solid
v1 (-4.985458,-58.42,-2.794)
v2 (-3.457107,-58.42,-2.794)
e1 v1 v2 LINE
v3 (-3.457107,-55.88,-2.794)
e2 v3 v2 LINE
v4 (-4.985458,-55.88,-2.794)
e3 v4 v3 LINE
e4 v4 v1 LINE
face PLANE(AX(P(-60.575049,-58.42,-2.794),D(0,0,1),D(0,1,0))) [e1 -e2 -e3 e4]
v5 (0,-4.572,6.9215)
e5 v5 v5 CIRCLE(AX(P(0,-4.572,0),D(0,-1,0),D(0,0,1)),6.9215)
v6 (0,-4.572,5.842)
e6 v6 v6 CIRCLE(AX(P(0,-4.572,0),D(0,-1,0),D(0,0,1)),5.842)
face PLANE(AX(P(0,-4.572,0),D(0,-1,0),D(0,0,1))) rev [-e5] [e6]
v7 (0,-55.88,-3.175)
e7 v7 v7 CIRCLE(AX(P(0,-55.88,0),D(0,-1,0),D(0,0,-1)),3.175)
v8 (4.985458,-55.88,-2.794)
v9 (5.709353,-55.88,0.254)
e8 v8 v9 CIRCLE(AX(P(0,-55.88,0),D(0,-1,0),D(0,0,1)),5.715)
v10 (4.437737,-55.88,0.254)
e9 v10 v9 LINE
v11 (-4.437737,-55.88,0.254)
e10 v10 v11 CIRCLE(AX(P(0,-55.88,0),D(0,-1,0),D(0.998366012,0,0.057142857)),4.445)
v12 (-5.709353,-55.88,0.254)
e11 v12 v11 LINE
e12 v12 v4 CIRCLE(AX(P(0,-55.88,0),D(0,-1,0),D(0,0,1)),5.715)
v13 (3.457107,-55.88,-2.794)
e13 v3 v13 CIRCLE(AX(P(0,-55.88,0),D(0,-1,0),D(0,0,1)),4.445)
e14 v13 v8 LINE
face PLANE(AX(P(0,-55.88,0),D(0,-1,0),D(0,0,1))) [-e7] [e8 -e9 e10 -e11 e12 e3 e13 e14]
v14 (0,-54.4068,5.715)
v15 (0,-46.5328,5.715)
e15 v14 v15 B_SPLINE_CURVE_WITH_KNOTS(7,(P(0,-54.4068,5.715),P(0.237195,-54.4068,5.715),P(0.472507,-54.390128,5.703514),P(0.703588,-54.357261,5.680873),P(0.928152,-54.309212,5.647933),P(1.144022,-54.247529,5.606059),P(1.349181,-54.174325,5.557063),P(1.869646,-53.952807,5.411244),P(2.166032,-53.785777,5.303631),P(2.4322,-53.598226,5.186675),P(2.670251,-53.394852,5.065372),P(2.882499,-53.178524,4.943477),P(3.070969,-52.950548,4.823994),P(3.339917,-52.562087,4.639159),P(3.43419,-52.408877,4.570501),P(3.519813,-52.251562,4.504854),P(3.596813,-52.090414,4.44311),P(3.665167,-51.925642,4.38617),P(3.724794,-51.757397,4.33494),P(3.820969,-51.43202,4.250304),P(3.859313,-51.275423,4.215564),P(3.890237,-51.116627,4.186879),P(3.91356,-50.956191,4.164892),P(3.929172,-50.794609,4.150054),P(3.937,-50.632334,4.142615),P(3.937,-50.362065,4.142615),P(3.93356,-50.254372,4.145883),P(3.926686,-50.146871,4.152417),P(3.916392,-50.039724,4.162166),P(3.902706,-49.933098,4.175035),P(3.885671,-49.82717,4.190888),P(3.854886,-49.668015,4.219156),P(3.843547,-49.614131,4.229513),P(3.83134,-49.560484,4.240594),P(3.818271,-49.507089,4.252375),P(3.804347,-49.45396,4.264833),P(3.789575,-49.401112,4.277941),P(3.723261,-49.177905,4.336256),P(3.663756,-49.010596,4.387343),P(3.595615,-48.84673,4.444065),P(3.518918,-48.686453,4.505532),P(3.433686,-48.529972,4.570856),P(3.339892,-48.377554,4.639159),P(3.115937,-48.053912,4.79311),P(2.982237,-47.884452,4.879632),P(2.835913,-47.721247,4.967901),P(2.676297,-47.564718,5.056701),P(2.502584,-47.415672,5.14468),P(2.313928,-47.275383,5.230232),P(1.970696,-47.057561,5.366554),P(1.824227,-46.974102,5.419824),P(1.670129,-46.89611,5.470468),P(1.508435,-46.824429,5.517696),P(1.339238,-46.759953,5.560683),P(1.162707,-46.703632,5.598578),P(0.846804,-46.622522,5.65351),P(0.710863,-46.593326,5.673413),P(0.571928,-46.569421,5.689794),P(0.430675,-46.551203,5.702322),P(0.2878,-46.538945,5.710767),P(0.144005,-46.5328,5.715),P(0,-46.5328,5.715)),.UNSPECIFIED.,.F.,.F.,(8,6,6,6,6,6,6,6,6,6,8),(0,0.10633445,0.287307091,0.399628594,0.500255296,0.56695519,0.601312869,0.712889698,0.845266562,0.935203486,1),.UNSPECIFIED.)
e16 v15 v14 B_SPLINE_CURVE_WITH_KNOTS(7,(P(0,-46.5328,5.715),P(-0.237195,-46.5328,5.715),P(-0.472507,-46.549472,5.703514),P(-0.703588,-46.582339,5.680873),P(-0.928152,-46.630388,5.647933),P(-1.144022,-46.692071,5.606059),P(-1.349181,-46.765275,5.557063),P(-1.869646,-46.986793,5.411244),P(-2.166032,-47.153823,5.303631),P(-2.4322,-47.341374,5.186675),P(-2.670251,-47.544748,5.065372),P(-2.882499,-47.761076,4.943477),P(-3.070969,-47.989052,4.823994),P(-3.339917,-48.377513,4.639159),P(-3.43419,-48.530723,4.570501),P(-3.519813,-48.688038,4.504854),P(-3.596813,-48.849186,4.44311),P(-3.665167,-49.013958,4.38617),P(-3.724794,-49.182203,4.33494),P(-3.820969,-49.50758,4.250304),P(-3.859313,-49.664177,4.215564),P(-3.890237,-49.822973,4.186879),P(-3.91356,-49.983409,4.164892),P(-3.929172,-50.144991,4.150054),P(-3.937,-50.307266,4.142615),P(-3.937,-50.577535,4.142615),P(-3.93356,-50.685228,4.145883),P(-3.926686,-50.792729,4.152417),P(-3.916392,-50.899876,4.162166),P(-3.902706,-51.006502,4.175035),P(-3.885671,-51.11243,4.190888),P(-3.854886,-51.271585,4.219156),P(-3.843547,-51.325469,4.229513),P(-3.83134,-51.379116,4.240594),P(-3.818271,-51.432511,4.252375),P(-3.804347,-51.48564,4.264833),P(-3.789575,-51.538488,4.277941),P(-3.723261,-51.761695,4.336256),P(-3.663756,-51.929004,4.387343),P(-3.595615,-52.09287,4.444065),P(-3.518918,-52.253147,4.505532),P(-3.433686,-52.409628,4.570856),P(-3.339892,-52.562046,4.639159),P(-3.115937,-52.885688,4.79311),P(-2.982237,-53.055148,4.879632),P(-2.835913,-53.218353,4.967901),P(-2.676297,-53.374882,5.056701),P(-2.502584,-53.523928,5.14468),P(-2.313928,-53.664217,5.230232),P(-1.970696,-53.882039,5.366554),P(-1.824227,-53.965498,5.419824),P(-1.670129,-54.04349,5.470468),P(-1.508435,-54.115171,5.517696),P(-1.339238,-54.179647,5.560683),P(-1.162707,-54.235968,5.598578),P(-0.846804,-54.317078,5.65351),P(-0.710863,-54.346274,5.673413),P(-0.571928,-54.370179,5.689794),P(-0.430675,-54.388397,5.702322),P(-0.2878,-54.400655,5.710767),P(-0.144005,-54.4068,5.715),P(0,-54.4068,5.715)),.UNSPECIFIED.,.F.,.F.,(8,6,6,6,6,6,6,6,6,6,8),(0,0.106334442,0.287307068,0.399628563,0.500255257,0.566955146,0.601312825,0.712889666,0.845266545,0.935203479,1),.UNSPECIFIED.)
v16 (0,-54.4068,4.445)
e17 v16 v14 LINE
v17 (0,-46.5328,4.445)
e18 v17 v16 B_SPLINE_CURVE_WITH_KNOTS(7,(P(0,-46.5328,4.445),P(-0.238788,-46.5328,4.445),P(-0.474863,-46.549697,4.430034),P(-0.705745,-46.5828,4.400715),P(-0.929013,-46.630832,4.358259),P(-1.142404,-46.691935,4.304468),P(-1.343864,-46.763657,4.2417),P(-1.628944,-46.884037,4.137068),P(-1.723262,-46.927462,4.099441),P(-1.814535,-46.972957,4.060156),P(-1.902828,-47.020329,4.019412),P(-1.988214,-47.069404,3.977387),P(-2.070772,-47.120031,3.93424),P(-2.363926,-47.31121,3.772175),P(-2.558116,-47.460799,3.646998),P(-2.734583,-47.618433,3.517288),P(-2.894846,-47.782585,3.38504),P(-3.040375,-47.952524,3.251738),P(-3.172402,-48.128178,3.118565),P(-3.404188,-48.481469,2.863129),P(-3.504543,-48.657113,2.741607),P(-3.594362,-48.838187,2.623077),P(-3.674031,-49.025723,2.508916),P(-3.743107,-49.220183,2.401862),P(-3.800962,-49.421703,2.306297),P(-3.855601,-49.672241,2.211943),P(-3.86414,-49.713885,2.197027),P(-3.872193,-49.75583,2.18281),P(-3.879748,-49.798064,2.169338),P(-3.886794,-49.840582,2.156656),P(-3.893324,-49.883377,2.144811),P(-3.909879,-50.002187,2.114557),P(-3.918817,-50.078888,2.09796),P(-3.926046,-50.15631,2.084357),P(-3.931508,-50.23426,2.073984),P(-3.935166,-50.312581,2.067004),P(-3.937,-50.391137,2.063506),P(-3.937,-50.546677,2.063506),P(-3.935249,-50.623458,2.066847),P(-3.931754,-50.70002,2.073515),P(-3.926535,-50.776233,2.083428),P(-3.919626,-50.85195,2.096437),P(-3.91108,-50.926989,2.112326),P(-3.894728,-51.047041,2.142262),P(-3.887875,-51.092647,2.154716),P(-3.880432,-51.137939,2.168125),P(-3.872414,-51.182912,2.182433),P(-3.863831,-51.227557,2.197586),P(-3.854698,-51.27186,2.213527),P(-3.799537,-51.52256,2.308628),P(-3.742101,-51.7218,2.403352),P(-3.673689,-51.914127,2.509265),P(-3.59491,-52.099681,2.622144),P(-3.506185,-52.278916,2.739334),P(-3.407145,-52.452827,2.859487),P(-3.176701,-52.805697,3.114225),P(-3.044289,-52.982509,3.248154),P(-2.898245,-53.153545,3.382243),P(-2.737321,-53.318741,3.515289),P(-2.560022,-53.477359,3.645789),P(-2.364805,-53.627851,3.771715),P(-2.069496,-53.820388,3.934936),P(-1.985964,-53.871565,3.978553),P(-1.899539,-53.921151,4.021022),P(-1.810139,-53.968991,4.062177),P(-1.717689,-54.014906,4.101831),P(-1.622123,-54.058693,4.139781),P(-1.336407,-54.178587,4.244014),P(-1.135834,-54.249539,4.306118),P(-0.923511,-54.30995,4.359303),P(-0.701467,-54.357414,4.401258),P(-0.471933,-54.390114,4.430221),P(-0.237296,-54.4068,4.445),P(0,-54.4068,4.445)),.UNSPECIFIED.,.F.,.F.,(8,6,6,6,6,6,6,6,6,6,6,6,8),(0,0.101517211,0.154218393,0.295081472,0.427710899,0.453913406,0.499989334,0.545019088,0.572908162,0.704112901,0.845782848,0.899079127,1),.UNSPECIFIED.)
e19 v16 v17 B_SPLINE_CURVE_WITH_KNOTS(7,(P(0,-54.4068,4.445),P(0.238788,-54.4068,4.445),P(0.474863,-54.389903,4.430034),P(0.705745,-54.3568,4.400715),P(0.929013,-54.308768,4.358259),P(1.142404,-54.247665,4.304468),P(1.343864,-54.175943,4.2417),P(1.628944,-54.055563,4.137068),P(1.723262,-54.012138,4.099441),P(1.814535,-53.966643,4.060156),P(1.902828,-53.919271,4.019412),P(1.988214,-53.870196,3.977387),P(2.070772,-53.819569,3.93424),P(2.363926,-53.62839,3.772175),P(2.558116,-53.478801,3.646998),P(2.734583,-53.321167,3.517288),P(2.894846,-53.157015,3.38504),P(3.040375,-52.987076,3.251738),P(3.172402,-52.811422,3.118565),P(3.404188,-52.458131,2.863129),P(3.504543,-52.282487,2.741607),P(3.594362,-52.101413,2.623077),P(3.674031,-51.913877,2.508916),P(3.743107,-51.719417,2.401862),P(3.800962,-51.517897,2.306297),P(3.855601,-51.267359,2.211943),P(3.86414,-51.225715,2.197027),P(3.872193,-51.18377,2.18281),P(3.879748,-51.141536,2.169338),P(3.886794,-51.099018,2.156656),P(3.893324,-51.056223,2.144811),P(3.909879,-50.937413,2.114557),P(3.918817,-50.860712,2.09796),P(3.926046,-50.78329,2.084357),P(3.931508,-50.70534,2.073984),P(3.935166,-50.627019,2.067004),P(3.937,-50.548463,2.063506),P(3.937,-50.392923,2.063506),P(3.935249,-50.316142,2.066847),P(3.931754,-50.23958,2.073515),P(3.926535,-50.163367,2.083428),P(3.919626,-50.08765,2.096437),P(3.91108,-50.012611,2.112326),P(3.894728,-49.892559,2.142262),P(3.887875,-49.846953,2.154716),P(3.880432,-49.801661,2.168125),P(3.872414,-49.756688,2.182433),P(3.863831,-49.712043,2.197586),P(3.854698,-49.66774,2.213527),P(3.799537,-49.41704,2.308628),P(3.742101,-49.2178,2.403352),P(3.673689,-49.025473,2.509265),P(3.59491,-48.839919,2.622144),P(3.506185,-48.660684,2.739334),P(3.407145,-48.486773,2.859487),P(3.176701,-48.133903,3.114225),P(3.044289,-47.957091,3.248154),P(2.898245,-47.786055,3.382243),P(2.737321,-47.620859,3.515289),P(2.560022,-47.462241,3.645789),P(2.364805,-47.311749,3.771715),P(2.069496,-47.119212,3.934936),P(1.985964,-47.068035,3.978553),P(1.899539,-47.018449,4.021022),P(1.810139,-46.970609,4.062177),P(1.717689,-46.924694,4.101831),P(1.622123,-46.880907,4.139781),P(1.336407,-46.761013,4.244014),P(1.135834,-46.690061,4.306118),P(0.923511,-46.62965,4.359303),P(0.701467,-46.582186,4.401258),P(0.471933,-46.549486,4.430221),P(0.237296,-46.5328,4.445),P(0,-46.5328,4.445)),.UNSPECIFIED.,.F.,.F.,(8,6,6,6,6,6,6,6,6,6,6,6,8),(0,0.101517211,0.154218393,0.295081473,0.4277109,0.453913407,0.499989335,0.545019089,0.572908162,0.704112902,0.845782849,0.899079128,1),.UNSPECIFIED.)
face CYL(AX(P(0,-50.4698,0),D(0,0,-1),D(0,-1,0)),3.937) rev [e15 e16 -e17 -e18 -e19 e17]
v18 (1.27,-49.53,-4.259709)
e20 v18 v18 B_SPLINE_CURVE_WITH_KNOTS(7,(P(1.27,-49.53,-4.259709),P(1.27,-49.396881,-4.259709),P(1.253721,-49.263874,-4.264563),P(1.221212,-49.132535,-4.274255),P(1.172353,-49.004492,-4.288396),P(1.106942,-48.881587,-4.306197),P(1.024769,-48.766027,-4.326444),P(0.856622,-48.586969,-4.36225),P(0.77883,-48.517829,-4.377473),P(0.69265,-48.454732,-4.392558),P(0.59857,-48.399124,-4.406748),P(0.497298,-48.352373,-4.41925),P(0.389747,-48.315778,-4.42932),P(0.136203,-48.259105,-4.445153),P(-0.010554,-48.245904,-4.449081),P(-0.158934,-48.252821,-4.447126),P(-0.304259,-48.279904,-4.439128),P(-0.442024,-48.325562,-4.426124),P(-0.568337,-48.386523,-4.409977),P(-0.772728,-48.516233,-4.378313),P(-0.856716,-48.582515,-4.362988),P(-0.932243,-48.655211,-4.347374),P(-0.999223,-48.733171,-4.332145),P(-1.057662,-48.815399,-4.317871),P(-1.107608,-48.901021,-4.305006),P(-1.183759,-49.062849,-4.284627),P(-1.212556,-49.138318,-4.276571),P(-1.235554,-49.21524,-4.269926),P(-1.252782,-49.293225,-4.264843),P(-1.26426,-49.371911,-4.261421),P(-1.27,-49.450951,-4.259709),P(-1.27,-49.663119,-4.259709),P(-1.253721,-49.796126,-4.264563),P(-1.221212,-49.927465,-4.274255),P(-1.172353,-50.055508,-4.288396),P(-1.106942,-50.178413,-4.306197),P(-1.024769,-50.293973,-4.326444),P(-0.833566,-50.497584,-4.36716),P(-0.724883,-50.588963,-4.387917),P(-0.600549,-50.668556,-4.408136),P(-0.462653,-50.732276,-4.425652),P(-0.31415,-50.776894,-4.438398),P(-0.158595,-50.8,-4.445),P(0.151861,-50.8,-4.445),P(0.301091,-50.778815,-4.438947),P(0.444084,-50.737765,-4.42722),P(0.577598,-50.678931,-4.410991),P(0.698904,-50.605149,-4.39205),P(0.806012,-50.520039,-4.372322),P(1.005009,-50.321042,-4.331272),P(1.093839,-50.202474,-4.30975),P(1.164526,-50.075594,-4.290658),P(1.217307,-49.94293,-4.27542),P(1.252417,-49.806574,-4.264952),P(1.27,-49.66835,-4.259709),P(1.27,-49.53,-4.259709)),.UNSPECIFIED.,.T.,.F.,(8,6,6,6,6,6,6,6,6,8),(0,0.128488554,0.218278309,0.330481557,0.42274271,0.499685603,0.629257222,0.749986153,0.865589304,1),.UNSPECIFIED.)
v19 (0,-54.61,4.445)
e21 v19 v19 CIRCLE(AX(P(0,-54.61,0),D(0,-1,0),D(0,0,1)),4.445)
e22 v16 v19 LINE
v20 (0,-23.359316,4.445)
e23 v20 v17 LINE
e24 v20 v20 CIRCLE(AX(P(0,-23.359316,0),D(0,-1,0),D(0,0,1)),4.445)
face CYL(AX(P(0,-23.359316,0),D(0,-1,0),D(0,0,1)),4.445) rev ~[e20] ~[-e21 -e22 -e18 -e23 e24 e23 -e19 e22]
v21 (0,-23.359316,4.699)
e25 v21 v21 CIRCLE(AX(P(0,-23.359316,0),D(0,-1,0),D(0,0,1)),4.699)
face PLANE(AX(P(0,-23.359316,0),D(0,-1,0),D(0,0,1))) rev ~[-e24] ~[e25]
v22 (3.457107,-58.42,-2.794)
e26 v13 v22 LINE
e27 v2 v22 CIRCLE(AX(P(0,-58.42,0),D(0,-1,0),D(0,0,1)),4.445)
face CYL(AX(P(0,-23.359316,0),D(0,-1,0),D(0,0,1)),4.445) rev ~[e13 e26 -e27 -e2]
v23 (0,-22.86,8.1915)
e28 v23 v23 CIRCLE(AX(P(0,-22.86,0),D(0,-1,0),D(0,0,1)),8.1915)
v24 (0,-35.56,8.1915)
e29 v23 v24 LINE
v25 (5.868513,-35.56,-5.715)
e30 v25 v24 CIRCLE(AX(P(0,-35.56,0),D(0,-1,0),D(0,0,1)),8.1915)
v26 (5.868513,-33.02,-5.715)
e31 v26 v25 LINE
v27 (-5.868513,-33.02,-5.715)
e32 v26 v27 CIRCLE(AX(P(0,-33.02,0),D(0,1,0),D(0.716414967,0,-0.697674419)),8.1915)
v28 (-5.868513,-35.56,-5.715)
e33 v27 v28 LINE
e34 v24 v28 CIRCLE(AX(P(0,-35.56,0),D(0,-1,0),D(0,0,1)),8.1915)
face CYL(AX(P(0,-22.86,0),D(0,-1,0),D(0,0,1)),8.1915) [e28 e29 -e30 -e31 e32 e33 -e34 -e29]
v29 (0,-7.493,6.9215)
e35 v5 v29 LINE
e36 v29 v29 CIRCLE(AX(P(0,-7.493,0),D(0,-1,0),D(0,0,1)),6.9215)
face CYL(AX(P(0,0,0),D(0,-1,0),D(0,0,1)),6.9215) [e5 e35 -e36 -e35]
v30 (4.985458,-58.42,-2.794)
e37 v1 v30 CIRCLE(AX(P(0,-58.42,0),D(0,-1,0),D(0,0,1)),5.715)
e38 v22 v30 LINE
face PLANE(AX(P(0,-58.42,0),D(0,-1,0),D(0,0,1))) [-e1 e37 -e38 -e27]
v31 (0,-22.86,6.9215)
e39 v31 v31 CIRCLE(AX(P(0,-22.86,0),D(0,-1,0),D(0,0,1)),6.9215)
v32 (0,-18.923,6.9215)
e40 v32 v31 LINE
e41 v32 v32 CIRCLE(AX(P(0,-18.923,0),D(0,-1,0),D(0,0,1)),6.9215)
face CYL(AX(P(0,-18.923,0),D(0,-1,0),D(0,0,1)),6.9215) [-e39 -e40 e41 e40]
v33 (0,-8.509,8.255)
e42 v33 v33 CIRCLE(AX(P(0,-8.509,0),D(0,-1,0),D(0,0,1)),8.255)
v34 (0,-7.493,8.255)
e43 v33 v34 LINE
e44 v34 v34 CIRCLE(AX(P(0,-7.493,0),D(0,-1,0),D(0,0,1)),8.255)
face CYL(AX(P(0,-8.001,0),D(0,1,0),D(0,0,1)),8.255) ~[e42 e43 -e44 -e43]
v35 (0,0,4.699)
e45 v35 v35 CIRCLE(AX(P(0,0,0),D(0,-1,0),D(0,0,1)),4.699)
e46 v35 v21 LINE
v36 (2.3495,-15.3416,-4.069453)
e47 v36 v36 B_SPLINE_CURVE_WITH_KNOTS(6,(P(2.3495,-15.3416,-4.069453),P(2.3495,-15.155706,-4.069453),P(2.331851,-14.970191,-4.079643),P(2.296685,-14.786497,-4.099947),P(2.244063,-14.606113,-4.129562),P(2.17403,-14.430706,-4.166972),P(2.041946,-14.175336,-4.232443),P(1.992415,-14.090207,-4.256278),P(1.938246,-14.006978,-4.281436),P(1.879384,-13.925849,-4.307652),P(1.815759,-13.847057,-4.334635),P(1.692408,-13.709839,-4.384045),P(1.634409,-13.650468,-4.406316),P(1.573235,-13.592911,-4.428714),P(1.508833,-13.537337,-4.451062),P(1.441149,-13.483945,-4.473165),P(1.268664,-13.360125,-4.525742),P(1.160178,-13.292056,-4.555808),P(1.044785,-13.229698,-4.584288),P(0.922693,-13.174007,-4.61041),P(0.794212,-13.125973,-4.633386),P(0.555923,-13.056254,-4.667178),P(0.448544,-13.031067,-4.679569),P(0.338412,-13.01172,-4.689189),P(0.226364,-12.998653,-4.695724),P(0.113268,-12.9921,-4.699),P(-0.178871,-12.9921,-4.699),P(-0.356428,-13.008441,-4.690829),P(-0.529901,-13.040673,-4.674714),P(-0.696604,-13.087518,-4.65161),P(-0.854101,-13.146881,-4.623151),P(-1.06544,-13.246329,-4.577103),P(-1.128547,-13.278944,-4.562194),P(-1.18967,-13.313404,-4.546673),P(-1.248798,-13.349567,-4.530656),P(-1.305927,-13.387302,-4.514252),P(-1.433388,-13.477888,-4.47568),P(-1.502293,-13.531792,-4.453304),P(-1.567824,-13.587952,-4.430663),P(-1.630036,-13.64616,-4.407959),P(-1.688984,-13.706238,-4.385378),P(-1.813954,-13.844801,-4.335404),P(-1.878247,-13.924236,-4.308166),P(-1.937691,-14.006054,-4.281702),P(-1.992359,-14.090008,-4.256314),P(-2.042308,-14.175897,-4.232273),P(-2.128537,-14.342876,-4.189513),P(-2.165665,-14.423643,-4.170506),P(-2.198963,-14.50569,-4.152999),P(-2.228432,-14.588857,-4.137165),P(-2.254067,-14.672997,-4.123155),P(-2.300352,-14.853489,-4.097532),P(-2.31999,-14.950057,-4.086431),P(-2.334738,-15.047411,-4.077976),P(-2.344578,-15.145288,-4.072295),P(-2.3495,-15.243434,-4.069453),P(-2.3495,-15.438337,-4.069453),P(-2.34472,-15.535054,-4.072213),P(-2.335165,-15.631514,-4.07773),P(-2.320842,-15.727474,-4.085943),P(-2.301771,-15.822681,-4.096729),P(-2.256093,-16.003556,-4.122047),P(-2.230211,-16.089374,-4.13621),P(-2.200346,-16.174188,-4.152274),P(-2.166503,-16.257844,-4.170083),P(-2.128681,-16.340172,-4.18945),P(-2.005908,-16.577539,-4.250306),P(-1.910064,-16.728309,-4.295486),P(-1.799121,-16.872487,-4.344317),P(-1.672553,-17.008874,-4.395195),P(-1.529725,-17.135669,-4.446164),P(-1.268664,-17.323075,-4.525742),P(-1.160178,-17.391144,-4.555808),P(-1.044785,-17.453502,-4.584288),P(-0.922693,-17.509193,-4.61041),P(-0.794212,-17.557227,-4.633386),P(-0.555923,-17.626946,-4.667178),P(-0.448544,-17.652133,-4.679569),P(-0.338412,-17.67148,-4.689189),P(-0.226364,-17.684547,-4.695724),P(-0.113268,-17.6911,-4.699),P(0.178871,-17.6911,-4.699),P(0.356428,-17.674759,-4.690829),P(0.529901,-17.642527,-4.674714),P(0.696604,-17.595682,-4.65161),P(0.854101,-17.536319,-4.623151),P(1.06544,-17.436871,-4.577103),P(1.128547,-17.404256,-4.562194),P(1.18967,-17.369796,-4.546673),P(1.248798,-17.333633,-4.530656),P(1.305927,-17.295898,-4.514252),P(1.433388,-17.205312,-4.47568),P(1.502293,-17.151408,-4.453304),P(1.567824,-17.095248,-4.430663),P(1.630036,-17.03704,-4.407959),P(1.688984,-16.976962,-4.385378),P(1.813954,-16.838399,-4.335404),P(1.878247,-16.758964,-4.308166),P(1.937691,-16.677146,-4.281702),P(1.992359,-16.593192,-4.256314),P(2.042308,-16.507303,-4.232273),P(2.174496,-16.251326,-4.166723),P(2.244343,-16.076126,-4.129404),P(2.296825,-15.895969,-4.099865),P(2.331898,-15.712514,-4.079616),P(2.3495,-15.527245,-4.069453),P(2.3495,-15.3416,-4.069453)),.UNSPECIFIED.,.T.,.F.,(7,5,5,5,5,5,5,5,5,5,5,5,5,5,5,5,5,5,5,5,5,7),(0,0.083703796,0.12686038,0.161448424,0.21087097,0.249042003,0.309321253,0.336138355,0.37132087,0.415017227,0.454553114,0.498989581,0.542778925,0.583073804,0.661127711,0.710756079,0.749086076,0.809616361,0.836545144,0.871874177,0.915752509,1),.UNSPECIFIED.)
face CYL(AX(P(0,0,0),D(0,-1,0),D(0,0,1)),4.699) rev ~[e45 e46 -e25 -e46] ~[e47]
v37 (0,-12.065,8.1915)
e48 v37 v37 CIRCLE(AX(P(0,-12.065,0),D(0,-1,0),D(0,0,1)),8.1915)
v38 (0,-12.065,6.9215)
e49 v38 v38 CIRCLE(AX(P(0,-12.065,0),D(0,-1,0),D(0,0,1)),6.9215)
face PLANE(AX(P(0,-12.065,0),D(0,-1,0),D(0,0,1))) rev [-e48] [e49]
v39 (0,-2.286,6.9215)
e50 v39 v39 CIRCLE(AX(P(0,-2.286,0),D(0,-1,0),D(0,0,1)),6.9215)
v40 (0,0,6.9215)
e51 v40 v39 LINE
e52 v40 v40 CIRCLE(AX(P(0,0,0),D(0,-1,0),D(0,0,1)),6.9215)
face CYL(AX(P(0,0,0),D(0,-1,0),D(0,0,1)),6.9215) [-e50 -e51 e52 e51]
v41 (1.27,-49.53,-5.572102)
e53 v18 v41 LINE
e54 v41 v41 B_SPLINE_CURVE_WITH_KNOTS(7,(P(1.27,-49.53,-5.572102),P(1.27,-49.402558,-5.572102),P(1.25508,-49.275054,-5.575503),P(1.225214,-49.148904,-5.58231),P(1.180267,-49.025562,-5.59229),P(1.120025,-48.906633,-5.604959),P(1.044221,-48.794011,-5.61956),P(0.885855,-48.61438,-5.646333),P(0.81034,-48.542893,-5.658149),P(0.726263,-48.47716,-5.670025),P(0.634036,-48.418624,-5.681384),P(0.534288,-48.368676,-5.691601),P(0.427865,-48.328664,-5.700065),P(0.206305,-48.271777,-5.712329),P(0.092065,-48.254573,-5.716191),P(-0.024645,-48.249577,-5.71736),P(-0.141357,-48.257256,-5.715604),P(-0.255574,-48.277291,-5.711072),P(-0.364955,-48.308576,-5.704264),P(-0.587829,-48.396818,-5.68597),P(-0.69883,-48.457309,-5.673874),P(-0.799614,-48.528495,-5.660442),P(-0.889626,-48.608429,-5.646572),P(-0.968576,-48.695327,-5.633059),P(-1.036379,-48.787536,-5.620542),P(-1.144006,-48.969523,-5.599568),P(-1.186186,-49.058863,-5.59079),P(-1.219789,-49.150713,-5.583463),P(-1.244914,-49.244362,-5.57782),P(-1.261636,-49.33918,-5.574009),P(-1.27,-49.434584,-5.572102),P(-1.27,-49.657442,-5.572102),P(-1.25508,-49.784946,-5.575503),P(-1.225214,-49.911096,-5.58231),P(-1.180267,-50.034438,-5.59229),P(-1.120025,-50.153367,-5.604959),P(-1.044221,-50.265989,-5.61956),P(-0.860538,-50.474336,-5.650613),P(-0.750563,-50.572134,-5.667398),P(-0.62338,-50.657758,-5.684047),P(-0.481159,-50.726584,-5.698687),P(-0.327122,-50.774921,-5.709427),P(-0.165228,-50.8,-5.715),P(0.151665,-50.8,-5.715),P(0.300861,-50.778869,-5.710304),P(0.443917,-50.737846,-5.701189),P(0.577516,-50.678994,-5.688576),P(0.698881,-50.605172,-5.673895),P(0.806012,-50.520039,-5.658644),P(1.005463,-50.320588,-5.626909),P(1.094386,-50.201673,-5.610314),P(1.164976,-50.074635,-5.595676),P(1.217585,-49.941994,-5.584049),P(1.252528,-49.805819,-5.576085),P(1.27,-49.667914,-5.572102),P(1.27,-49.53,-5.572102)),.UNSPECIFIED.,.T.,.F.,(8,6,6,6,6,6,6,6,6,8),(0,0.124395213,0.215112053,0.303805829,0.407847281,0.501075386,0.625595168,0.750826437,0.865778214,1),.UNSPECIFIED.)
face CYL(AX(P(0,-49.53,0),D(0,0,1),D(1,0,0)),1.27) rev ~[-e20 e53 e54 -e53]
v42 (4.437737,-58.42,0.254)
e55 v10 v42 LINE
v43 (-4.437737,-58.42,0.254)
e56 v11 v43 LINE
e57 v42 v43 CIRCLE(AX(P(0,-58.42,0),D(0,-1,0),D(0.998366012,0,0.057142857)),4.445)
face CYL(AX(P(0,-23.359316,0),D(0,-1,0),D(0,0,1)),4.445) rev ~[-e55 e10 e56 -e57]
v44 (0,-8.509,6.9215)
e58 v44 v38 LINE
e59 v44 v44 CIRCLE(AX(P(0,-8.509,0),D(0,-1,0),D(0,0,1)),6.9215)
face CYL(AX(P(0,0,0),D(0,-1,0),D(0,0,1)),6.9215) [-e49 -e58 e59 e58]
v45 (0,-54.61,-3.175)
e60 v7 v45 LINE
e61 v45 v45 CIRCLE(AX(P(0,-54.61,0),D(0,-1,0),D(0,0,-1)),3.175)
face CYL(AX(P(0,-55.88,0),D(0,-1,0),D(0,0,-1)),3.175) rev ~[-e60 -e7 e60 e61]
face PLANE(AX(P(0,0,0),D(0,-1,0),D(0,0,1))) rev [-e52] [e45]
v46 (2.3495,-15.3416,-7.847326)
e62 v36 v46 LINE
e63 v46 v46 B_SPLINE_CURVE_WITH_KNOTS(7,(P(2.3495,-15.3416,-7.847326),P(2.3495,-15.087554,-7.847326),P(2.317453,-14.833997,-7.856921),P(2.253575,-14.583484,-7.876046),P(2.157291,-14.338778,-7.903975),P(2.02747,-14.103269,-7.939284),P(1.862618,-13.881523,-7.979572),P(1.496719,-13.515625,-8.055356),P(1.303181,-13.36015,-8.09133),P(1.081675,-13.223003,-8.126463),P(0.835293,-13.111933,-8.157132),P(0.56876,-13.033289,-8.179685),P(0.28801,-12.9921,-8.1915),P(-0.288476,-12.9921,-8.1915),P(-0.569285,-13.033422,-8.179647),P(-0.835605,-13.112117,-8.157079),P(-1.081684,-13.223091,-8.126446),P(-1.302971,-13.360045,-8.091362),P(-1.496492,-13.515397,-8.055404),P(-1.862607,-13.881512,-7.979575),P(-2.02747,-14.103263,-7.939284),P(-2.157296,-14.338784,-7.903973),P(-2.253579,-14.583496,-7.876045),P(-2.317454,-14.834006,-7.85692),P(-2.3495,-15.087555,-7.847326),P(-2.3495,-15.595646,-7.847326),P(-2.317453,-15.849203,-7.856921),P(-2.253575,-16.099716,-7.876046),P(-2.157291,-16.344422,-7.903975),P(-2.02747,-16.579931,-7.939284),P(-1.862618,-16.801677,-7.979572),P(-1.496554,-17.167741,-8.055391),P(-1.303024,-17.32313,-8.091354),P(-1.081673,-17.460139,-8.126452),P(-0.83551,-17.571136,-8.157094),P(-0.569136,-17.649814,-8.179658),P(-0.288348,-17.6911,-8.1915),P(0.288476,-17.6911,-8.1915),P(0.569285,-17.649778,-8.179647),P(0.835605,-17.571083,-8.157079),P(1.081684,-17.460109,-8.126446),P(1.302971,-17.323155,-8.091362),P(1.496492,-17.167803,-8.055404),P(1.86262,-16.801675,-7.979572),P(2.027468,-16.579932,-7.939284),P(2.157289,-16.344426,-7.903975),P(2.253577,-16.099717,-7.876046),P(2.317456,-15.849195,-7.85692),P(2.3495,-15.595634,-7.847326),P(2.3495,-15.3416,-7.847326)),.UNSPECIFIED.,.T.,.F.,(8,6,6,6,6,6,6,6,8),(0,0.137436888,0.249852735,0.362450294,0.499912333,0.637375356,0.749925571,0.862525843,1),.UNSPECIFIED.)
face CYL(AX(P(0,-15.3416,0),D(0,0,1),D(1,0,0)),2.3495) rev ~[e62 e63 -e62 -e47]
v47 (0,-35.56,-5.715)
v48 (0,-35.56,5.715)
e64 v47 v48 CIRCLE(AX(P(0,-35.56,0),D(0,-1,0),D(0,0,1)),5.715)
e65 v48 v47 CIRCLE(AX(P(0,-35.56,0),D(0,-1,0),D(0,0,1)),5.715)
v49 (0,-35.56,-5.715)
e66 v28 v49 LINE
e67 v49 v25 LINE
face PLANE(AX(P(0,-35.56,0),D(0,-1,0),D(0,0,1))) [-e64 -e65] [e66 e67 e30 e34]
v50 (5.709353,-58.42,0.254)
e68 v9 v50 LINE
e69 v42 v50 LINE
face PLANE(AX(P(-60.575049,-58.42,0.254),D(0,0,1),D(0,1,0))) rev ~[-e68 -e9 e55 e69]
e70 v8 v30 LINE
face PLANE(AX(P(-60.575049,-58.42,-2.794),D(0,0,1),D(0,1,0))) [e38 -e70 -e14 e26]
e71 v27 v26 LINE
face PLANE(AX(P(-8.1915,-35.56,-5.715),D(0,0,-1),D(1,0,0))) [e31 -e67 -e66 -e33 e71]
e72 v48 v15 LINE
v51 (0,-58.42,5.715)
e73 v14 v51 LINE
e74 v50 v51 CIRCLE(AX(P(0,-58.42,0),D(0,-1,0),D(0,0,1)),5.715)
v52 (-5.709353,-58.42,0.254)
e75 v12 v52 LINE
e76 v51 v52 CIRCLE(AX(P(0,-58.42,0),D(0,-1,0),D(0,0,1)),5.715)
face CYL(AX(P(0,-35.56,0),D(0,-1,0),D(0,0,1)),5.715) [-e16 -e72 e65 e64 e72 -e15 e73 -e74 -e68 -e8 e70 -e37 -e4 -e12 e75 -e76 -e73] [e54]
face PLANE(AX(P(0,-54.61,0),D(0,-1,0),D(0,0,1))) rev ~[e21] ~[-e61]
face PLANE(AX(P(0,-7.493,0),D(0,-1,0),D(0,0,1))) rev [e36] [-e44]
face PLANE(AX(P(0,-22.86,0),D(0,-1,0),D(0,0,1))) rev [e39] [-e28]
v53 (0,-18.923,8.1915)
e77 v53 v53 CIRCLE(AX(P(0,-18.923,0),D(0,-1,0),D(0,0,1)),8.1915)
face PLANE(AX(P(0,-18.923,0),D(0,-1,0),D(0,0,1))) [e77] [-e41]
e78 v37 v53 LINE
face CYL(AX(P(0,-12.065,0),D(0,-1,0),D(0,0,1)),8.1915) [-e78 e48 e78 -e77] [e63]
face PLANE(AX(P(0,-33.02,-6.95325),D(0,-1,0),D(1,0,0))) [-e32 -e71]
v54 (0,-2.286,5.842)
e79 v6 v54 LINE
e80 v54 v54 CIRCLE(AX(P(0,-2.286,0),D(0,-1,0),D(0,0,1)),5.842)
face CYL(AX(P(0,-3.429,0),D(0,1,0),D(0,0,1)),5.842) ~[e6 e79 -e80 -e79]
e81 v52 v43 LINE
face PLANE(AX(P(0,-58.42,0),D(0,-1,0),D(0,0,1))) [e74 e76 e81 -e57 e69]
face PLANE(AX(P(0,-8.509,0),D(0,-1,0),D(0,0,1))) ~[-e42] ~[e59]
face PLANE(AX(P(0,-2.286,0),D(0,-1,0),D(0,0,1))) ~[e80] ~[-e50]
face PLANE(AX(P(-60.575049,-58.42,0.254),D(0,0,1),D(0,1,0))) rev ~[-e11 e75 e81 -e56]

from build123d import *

# Parameters (mm, degrees)
SKETCH3_W                        = 1.0795
SKETCH3_H                        = 2.286
SKETCH4_W                        = 1.3335
SKETCH4_H                        = 1.016
SKETCH6_R                        = 3.937
AIR_OUT_2_MOUTHPIECE_DEPTH       = 60.575048888
SKETCH7_R                        = 2.3495
AIR_OUT_2_BC_DEPTH               = 60.575048986
SKETCH8_R                        = 1.27
VENT_DEPTH                       = 60.575048986
SLOT_FOR_DEMAND_LEVER_DEPTH      = 60.575048986
SLOT_FOR_DEMAND_LEVER_DEPTH_BACK = 60.575048986
SKETCH9_W                        = 3.048
SKETCH9_H                        = 2.54
SKETCH10_W                       = 16.383
SKETCH10_H                       = 2.4765
CLOCKING_CUT_DEPTH               = 2.54
SKETCH11_R                       = 4.445
SKETCH11_R_2                     = 3.175
SPRING_REST_DEPTH                = 1.27


with BuildPart() as part:
    # Sketch2 → Main Shaft (revolve)
    with BuildSketch(Plane.XY, mode=Mode.PRIVATE) as main_shaft_sk:
        Polygon((0, 0), (6.9215, 0), (6.9215, -12.065), (8.1915, -12.065), (8.1915, -18.923), (6.9215, -18.923), (6.9215, -22.86), (8.1915, -22.86), (8.1915, -35.56), (5.715, -35.56), (5.715, -58.42), (0, -58.42), align=None)
    revolve(main_shaft_sk.sketch.rotate(Axis((0, 0, 0), (0, -1, 0)), 90), axis=Axis((0, 0, 0), (0, -1, 0)))

    # Sketch3 → Top Groove (revolve, cut)
    with BuildSketch(Plane.XY, mode=Mode.PRIVATE) as top_groove_sk:
        with Locations((6.38175, -3.429)):
            Rectangle(SKETCH3_W, SKETCH3_H)
    revolve(top_groove_sk.sketch.rotate(Axis((0, 0, 0), (0, -1, 0)), 90), axis=Axis((0, 0, 0), (0, -1, 0)), mode=Mode.SUBTRACT)

    # Sketch4 → Upper Flange (revolve)
    with BuildSketch(Plane.XY, mode=Mode.PRIVATE) as upper_flange_sk:
        with Locations((7.58825, -8.001)):
            Rectangle(SKETCH4_W, SKETCH4_H)
    revolve(upper_flange_sk.sketch.rotate(Axis((0, 0, 0), (0, -1, 0)), 90), axis=Axis((0, 0, 0), (0, -1, 0)))

    # Sketch5 → ID 2 (revolve, cut)
    with BuildSketch(Plane.XY, mode=Mode.PRIVATE) as id_2_sk:
        Polygon((0, 0), (4.699, 0), (4.699, -23.359316239), (4.445, -23.359316239), (4.445, -58.42), (0, -58.42), align=None)
    revolve(id_2_sk.sketch.rotate(Axis((0, 0, 0), (0, -1, 0)), 90), axis=Axis((0, 0, 0), (0, -1, 0)), mode=Mode.SUBTRACT)

    # Sketch6 → Air Out 2 Mouthpiece (cut, through all)
    with BuildSketch(Plane.XY):
        with Locations(Location((0, -50.4698, 0), (0, 0, 270))):
            Circle(SKETCH6_R)
    extrude(amount=AIR_OUT_2_MOUTHPIECE_DEPTH, mode=Mode.SUBTRACT)

    # Sketch7 → Air Out 2 BC (cut, through all)
    with BuildSketch(Plane.XY):
        with Locations((0, -15.3416)):
            Circle(SKETCH7_R)
    extrude(amount=-AIR_OUT_2_BC_DEPTH, mode=Mode.SUBTRACT)

    # Sketch8 → Vent (cut, through all)
    with BuildSketch(Plane.XY):
        with Locations((0, -49.53)):
            Circle(SKETCH8_R)
    extrude(amount=-VENT_DEPTH, mode=Mode.SUBTRACT)

    # Sketch9 → Slot for Demand Lever (cut, two sides: drawn at the far end of the back side and taken through both)
    with BuildSketch(Plane(origin=(0, 0, 0), x_dir=(0, 0, -1), z_dir=(1, 0, 0)).offset(-SLOT_FOR_DEMAND_LEVER_DEPTH_BACK)):
        with Locations((1.27, -57.15)):
            Rectangle(SKETCH9_W, SKETCH9_H)
    extrude(amount=SLOT_FOR_DEMAND_LEVER_DEPTH + SLOT_FOR_DEMAND_LEVER_DEPTH_BACK, mode=Mode.SUBTRACT)

    # Sketch10 → Clocking cut (cut)
    with BuildSketch(Plane.XZ.offset(35.56)):
        with Locations((0, -6.95325)):
            Rectangle(SKETCH10_W, SKETCH10_H)
    extrude(amount=-CLOCKING_CUT_DEPTH, mode=Mode.SUBTRACT)

    # Sketch11 → Spring Rest (add)
    with BuildSketch(Plane.XZ.offset(55.88)):
        with Locations(Location((0, 0, 0), (0, 0, 90))):
            Circle(SKETCH11_R)
        with Locations(Location((0, 0, 0), (0, 0, 270))):
            Circle(SKETCH11_R_2, mode=Mode.SUBTRACT)
    extrude(amount=-SPRING_REST_DEPTH)


solid = part.part
